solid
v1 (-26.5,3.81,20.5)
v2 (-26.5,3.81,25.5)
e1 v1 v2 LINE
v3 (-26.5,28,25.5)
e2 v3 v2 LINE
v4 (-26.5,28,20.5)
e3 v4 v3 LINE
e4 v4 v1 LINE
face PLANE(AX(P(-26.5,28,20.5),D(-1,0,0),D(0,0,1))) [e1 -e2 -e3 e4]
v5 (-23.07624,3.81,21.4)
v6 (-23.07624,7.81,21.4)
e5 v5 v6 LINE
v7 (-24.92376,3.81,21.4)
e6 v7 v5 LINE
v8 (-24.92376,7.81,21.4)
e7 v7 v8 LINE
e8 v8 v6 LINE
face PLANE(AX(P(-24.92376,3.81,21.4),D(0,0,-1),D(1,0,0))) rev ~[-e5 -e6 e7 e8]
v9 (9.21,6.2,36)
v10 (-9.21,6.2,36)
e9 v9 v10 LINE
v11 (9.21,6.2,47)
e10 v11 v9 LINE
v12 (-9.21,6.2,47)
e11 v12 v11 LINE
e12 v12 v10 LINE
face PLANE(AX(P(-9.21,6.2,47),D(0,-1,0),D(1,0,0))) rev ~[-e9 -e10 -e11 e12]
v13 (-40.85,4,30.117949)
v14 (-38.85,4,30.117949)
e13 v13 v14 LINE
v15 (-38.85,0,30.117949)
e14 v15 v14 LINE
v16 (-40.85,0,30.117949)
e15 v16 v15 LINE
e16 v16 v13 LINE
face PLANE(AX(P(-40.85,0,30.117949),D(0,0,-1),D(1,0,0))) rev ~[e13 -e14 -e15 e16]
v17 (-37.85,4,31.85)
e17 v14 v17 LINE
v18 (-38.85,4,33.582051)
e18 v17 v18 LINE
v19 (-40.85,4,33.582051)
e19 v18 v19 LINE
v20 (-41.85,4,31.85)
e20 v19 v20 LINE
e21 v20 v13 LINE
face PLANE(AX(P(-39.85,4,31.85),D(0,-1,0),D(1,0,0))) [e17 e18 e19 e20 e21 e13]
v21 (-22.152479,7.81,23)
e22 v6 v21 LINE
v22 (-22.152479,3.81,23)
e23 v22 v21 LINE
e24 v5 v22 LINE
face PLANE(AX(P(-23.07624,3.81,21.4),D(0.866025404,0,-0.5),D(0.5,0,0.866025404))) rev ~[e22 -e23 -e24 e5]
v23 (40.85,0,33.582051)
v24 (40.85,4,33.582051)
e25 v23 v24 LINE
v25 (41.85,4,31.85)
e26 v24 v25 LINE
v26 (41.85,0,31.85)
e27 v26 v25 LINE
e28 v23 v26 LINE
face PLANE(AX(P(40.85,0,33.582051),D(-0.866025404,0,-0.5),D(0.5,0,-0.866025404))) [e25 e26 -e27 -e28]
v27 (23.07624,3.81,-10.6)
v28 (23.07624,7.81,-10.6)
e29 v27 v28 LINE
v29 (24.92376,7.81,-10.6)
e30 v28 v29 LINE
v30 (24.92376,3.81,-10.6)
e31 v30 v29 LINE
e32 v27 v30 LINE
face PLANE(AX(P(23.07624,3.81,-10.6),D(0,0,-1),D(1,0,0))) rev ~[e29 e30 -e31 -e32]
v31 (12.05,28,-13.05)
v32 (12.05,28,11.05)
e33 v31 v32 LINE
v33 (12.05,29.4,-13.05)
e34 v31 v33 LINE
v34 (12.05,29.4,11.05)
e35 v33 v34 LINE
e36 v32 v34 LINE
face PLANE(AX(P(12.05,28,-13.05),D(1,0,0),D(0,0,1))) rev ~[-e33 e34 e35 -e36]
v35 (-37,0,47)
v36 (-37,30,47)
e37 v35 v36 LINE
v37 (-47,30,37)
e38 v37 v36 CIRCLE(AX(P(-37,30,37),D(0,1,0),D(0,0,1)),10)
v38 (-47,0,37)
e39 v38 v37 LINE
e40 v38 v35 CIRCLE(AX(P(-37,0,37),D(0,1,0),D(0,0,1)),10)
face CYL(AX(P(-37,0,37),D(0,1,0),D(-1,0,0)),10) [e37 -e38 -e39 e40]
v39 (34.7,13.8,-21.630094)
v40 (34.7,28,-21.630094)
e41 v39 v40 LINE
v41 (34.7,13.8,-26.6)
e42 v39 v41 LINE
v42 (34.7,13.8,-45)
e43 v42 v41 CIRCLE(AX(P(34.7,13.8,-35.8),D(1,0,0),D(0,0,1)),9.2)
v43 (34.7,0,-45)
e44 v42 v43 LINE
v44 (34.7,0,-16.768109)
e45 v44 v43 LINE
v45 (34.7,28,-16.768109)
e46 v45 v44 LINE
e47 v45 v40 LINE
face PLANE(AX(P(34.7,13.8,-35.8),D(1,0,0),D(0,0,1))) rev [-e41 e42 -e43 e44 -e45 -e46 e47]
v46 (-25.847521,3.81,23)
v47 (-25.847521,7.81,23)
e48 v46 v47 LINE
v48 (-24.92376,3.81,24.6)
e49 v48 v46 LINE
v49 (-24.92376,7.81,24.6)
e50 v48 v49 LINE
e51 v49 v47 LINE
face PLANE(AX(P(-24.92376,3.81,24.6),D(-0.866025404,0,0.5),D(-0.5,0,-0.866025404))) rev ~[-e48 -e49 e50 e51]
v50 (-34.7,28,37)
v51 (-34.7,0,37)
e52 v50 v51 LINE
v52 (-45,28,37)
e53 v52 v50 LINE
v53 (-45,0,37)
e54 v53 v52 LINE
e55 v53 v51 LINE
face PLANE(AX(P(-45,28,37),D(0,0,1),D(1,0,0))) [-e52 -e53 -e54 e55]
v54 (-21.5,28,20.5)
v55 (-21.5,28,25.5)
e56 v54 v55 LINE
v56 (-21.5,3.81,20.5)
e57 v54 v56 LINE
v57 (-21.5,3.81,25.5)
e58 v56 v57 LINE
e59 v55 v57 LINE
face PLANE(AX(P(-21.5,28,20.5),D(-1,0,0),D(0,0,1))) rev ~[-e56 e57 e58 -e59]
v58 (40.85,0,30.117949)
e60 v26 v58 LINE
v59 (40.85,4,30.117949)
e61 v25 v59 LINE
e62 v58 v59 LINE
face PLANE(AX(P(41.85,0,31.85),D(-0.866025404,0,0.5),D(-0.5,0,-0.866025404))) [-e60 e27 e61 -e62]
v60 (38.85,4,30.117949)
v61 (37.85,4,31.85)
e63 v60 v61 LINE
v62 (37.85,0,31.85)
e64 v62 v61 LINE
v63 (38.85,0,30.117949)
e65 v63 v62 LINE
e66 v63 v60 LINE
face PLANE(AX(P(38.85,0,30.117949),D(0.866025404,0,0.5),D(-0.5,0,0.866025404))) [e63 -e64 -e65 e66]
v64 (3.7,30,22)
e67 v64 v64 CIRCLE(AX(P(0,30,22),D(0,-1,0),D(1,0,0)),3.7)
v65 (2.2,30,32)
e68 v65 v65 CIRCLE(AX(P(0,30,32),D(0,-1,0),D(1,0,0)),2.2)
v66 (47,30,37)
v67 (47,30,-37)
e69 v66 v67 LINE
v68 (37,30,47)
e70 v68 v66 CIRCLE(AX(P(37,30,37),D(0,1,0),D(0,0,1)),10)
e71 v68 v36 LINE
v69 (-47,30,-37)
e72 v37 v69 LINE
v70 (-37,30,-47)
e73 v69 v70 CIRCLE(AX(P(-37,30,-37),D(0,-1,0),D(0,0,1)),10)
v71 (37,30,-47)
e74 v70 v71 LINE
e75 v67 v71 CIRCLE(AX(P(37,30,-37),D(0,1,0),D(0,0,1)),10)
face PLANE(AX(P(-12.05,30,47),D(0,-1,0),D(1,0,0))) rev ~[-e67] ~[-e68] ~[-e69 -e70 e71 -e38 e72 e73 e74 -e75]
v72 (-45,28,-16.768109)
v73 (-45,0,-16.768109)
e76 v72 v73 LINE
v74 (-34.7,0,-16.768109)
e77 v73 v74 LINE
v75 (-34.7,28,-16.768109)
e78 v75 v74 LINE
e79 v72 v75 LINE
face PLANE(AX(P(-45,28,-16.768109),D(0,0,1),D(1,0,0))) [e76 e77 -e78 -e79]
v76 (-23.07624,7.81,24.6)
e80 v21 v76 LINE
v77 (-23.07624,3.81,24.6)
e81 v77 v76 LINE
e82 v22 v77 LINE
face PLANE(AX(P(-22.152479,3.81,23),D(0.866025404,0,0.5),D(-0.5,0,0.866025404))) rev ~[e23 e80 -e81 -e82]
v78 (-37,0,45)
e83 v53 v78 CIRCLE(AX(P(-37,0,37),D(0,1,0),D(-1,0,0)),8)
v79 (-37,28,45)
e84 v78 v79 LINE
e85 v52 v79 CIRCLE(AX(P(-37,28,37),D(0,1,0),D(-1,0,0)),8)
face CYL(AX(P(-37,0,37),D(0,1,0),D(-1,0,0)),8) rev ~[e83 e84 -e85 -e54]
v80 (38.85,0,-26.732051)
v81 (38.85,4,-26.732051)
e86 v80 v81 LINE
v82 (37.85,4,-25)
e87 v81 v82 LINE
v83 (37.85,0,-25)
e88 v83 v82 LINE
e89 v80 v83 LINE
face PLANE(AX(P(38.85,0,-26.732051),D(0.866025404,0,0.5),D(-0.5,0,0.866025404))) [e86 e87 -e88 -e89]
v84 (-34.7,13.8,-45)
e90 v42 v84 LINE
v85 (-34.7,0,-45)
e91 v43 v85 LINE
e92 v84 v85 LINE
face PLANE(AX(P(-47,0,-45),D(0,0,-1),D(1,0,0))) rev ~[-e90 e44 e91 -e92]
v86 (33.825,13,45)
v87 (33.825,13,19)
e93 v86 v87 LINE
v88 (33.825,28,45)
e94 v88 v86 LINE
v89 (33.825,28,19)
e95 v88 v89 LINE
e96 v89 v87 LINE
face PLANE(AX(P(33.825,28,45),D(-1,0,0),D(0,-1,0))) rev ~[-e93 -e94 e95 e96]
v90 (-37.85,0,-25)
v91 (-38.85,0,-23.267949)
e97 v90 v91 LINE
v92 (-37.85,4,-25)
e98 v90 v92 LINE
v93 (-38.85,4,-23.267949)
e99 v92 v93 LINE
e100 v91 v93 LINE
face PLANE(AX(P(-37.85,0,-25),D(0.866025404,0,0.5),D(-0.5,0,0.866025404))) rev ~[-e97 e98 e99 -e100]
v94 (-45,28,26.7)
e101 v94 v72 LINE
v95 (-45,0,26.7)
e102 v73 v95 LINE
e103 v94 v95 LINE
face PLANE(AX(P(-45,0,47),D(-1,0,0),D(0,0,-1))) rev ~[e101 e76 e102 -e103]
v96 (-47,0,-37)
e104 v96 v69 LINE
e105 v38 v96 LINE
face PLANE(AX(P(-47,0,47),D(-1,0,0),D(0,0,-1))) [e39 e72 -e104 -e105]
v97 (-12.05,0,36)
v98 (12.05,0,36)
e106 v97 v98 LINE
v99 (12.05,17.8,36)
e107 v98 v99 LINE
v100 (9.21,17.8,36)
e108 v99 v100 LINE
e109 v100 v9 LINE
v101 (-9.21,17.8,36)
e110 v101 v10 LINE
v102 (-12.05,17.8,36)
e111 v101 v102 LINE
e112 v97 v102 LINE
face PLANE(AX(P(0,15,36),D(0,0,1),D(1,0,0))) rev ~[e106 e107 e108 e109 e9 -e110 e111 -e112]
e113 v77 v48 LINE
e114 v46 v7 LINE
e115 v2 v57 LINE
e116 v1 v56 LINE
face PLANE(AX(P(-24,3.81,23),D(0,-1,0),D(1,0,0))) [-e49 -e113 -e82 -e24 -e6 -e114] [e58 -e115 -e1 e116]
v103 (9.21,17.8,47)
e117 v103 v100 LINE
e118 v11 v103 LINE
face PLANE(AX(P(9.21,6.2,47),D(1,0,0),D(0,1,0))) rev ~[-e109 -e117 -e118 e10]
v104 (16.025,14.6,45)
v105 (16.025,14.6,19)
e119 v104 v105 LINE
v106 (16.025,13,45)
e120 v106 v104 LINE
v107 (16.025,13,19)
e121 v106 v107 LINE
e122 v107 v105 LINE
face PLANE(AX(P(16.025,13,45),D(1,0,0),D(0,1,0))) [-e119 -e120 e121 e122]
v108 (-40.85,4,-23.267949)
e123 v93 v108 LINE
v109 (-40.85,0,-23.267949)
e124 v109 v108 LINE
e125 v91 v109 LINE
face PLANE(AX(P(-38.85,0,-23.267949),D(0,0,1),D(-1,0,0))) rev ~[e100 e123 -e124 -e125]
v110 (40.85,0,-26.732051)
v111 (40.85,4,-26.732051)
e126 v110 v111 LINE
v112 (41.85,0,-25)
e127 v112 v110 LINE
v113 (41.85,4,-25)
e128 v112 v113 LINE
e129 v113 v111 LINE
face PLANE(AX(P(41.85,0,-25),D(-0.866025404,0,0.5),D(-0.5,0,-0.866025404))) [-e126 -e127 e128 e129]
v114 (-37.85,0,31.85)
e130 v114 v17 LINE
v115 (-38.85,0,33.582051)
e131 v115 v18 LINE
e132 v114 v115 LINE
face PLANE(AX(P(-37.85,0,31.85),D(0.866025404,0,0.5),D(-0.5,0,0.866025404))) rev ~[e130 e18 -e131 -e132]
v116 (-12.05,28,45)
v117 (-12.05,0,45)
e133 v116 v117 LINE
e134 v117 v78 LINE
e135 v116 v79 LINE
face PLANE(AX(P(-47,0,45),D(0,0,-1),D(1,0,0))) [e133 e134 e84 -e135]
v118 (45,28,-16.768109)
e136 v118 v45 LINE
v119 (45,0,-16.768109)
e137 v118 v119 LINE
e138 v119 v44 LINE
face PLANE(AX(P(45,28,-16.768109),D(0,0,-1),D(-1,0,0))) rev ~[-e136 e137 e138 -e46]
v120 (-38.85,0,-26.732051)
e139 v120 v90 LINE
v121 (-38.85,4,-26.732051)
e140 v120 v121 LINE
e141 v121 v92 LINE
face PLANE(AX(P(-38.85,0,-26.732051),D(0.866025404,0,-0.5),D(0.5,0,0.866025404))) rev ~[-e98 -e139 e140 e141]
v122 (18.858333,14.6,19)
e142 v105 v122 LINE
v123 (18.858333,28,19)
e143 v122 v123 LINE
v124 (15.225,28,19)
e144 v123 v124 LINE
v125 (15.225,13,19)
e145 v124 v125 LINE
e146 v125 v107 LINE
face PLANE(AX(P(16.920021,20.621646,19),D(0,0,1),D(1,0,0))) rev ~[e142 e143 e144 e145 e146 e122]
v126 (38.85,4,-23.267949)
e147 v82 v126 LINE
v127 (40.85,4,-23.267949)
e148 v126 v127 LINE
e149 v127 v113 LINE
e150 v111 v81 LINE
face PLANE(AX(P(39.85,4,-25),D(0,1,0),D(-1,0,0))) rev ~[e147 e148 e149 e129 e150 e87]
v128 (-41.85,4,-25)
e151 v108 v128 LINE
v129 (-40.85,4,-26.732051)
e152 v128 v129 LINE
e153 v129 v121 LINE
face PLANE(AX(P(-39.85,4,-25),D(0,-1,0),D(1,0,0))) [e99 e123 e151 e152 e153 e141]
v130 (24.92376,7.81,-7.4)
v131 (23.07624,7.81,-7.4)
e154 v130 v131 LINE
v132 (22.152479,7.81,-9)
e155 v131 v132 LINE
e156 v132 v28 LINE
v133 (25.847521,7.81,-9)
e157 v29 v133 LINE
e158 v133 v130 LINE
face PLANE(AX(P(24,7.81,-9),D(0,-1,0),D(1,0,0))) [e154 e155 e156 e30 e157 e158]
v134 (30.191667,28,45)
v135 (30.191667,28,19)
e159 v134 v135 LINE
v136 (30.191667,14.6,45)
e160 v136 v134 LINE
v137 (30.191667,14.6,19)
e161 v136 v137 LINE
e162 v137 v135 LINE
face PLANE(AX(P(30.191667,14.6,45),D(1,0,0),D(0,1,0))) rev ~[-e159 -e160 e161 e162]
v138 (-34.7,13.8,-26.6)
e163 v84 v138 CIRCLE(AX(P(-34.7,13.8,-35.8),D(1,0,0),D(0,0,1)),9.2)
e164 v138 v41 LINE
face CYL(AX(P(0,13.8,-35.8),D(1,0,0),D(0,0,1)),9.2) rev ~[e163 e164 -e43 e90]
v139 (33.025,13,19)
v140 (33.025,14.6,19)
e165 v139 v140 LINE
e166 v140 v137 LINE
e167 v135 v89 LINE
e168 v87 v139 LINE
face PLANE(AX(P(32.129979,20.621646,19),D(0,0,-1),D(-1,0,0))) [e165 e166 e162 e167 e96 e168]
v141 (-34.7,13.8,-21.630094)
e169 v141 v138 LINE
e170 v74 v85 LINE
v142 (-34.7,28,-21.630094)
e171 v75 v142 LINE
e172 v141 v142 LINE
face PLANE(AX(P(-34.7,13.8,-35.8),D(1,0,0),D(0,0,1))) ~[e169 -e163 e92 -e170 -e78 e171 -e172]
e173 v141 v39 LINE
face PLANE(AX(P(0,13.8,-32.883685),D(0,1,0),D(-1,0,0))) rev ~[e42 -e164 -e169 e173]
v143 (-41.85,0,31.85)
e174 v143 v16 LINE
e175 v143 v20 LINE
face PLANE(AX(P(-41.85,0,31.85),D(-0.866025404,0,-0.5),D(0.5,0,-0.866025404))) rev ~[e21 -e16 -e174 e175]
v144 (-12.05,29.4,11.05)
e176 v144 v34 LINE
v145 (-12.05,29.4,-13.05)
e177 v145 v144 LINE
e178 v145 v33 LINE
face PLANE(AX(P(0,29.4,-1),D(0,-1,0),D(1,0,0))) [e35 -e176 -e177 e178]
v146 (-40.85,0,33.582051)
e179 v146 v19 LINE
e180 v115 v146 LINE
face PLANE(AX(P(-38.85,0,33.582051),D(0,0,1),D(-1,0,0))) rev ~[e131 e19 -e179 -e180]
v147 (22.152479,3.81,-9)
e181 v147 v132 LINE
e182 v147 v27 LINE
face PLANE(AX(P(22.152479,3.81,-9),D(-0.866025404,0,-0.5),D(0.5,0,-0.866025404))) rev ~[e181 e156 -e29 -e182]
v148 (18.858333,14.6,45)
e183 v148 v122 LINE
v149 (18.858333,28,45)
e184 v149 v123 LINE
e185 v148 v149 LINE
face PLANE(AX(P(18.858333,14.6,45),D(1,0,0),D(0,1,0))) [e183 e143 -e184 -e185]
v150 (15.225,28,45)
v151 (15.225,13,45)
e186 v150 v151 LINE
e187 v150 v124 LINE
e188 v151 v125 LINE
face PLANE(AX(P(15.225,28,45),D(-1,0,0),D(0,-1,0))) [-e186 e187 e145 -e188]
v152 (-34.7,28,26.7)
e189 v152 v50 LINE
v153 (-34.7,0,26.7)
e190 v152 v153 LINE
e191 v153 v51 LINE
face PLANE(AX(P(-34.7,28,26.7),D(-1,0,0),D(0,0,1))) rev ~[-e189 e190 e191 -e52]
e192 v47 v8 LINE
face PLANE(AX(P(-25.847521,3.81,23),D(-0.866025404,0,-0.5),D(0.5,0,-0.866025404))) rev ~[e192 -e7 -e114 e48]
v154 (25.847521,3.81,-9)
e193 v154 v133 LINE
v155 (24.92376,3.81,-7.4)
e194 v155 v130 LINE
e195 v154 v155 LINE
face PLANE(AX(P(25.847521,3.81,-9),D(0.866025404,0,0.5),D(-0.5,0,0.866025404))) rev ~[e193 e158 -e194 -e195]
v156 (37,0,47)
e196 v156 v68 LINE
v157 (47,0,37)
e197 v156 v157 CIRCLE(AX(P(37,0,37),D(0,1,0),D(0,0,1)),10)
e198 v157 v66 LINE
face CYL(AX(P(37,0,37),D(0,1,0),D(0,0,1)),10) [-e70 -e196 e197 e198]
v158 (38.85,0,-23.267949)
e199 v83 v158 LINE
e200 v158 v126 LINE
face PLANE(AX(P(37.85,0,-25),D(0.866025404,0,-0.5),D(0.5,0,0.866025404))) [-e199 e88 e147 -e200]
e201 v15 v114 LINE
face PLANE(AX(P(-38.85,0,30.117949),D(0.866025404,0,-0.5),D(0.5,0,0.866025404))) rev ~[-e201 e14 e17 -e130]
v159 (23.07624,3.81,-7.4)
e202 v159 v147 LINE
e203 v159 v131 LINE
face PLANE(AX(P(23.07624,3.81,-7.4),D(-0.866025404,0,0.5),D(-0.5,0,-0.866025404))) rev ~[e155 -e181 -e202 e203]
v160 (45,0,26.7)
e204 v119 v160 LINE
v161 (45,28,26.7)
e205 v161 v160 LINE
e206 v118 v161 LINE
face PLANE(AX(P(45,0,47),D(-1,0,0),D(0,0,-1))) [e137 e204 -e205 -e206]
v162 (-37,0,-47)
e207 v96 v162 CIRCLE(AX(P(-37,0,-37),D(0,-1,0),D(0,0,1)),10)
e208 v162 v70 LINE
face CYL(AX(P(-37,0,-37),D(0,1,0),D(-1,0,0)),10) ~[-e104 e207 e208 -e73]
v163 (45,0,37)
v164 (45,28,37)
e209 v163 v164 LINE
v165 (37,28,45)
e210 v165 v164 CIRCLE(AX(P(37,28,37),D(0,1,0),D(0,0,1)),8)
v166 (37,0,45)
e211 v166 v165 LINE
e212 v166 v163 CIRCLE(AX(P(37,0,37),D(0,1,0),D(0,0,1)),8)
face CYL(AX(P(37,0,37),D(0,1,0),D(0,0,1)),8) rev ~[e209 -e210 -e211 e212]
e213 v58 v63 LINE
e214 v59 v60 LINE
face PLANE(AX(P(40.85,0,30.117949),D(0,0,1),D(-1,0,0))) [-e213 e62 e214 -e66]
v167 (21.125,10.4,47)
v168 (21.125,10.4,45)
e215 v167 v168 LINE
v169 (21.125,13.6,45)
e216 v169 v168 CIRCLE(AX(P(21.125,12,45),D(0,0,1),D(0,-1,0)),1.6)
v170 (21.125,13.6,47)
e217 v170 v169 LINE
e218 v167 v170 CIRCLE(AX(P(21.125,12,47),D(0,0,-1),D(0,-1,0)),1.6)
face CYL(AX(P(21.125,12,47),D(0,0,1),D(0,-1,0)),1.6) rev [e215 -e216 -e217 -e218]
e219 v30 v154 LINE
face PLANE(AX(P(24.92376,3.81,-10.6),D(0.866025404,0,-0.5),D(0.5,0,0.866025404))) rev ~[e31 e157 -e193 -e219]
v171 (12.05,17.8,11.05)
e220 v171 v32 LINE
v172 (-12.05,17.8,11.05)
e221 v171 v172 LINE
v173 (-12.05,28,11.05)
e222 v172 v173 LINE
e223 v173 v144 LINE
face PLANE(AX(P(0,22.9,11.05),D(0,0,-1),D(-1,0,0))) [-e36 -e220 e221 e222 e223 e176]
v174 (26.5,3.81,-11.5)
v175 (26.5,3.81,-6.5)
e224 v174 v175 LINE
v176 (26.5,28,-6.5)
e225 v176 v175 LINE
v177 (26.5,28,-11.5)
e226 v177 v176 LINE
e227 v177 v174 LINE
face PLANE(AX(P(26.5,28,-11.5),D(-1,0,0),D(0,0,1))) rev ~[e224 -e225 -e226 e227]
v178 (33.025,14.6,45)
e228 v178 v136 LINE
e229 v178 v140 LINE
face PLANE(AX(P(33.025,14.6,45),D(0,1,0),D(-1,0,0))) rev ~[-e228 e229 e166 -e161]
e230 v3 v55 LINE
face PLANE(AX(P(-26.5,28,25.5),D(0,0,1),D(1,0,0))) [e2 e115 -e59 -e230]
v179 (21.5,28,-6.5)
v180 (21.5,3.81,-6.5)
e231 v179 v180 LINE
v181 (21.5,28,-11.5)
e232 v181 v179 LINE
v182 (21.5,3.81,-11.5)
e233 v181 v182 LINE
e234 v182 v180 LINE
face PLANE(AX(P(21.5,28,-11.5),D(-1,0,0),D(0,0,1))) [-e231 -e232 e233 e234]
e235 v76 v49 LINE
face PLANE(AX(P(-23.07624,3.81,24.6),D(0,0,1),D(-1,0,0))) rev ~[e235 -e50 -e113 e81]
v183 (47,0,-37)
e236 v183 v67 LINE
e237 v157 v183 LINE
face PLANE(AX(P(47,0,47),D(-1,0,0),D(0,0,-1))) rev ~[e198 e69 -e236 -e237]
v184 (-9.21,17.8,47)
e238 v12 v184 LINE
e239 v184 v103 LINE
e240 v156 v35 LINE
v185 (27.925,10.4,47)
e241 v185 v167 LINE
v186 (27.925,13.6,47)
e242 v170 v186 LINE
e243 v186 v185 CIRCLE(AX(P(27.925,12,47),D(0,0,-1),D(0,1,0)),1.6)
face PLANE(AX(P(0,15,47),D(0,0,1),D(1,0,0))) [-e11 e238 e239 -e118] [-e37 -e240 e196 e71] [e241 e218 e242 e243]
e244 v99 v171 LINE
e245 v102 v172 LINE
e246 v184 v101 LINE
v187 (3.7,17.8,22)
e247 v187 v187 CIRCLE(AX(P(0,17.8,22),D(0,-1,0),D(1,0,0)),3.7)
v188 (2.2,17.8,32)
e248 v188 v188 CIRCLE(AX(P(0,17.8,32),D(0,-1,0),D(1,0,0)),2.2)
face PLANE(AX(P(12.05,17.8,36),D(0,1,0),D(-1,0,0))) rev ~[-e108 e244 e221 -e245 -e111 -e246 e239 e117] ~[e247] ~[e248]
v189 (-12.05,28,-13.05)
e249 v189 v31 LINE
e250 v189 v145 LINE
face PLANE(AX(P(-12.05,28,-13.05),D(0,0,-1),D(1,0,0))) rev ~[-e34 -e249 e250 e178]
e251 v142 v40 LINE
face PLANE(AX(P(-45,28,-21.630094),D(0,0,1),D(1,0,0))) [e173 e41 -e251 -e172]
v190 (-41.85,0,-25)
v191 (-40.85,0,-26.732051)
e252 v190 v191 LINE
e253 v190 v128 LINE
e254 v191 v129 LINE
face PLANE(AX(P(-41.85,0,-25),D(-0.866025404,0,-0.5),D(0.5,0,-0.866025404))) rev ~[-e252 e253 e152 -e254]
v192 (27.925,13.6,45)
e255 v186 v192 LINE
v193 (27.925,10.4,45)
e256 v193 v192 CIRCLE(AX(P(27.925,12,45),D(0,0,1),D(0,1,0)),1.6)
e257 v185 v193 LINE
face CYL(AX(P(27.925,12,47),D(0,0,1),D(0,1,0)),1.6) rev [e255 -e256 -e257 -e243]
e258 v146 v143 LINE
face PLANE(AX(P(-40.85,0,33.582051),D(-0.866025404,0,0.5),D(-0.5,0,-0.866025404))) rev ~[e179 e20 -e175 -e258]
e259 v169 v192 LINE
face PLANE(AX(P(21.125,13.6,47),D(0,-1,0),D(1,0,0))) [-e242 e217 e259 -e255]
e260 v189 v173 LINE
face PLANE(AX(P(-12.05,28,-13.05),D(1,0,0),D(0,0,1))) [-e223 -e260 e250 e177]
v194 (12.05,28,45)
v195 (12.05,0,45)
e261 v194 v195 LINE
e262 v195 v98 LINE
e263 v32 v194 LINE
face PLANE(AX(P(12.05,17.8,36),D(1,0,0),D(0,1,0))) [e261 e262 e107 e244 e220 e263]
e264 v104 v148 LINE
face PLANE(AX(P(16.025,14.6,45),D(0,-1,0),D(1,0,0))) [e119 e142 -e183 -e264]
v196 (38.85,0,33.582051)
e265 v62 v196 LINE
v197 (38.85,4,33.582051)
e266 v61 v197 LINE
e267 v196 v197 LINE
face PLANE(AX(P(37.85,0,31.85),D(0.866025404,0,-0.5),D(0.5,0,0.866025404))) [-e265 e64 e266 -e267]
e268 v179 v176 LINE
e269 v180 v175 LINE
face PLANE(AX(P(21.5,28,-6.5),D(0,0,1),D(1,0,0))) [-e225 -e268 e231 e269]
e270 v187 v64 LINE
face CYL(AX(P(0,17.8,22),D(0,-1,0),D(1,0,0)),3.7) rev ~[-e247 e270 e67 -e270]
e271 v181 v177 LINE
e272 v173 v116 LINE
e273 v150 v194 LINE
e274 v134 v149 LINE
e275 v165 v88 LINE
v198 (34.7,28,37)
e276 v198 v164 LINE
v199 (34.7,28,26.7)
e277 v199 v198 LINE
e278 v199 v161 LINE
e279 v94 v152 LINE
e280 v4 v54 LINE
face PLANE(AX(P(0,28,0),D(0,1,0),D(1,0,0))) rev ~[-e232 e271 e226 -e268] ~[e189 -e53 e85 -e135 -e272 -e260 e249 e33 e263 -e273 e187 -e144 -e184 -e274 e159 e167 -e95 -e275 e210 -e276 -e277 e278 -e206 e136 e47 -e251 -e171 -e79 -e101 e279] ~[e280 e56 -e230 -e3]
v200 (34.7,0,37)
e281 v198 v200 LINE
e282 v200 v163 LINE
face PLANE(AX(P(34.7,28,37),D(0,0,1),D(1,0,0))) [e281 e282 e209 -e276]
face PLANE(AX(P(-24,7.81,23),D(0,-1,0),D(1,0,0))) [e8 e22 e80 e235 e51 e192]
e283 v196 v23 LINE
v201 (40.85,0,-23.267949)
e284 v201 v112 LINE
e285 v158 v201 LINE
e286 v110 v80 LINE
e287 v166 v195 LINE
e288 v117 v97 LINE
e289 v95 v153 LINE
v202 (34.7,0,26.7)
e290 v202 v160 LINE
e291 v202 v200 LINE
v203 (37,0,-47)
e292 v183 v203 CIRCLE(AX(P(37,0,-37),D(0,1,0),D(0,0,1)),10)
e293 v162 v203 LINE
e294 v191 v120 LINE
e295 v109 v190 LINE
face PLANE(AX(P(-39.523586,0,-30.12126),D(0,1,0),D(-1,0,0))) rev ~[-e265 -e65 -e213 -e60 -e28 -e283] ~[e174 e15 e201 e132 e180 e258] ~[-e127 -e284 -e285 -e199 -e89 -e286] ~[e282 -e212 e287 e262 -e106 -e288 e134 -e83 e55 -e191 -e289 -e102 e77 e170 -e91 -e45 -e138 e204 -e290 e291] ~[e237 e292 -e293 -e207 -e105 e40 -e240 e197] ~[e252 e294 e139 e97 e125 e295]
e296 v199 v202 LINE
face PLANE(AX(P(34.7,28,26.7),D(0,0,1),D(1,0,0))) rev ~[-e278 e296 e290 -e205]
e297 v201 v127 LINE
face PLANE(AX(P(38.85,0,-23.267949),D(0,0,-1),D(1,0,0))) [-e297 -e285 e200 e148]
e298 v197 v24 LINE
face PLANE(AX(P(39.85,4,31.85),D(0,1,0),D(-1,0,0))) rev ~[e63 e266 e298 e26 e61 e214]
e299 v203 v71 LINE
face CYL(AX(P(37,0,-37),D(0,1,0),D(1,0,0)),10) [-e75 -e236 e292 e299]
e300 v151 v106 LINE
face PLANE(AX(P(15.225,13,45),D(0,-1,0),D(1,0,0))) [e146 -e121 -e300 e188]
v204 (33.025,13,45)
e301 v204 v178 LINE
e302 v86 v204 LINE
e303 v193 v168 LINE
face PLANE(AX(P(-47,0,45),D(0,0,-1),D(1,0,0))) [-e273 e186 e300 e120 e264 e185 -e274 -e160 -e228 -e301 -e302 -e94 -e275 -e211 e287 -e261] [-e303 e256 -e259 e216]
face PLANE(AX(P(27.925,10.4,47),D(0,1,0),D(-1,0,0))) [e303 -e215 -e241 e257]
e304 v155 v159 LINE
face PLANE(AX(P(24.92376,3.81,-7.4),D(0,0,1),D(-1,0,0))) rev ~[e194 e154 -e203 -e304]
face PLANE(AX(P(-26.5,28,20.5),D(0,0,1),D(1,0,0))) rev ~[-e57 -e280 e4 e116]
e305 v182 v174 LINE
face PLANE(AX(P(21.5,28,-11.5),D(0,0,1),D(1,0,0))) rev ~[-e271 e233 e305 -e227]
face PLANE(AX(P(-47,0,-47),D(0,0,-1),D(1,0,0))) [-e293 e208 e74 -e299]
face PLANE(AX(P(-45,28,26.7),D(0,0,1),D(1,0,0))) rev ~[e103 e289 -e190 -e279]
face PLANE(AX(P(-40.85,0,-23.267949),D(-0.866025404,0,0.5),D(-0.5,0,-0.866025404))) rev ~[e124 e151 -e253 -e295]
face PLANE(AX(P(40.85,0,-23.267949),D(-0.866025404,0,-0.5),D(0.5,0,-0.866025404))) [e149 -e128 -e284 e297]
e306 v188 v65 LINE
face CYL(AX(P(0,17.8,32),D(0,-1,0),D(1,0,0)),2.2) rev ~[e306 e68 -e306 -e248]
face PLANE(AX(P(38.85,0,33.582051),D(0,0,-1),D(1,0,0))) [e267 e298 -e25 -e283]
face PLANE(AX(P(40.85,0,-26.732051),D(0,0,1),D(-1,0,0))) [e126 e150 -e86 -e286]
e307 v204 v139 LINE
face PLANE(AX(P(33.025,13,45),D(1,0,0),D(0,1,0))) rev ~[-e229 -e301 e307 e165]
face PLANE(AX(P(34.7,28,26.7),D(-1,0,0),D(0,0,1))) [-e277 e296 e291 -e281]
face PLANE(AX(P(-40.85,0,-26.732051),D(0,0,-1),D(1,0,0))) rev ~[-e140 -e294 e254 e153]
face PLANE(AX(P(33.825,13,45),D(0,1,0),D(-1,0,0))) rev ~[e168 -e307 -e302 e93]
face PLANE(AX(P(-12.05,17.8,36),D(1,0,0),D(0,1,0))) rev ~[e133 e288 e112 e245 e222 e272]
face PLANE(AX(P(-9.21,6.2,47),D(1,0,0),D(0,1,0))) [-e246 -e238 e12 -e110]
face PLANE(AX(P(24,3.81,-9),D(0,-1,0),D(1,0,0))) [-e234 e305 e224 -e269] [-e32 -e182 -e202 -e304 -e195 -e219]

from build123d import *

# Parameters (mm, degrees)
SKETCH_1_W             = 94
SKETCH_1_H             = 94
EXTRUDE_1_DEPTH        = 30
FILLET_1_R             = 10
SHELL_1_T              = -2
SKETCH_2_W             = 24.1
SKETCH_2_H             = 30
EXTRUDE_3392_DEPTH     = 11
CUT_EXTRUDE_3513_REACH = 111.293
SKETCH_3_W             = 18.42
SKETCH_3_H             = 11.6
SKETCH_4_W             = 24.1
SKETCH_4_H             = 24.1
CUT_EXTRUDE_3826_DEPTH = 1.4
EXTRUDE_4548_DEPTH     = 14.2
SKETCH_9_W             = 69.4
SKETCH_9_H             = 9.2
SKETCH_10_W            = 5
SKETCH_10_H            = 5
EXTRUDE_5202_DEPTH     = 24.19
CUT_EXTRUDE_5310_DEPTH = 4
USBC_REACH             = 111.293
USBC_2_DEPTH           = 26
SKETCH_22_W            = 24.1
SKETCH_22_H            = 10.2
EXTRUDE_7617_DEPTH     = 24.95
CUT_EXTRUDE_6_REACH    = 70.81
SKETCH_23_R            = 2.2
SKETCH_23_R_2          = 3.7
SKETCH_13_W            = 10.3
SKETCH_13_H            = 10.3
EXTRUDE_4_DEPTH        = 28
CUT_EXTRUDE_7_DEPTH    = 4


with BuildPart() as part:
    # 草图1 → 凸台-拉伸1 (new body)
    with BuildSketch(Plane(origin=(0, 0, 0), x_dir=(1, 0, 0), z_dir=(0, 1, 0))):
        Rectangle(SKETCH_1_W, SKETCH_1_H)
    extrude(amount=EXTRUDE_1_DEPTH)

    # 圆角1
    fillet_1_edges = [part.edges().sort_by_distance(p)[0] for p in [
        (-47, 15, -47),
        (47, 15, -47),
        (47, 15, 47),
        (-47, 15, 47),
    ]]
    fillet(fillet_1_edges, radius=FILLET_1_R)

    # 抽壳1
    shell_1_openings = [part.faces().sort_by_distance(p)[0] for p in [
        (0, 0, 0),
    ]]
    offset(amount=SHELL_1_T, openings=shell_1_openings, kind=Kind.INTERSECTION)

    # 草图2 → Extrude 3392 (add)
    with BuildSketch(Plane.XY.offset(47)):
        with Locations((0, 15)):
            Rectangle(SKETCH_2_W, SKETCH_2_H)
    extrude(amount=-EXTRUDE_3392_DEPTH)

    # 草图3 → Cut-Extrude 3513 (cut, up to next)
    with BuildSketch(Plane.XY.offset(47), mode=Mode.PRIVATE) as cut_extrude_3513_sk1:
        with Locations((0, 12)):
            Rectangle(SKETCH_3_W, SKETCH_3_H)
    cut_extrude_3513_tool1 = extrude(cut_extrude_3513_sk1.sketch, amount=-CUT_EXTRUDE_3513_REACH, mode=Mode.PRIVATE) & part.part
    add(cut_extrude_3513_tool1.solids().sort_by_distance((0, 12, 47))[0], mode=Mode.SUBTRACT)

    # 草图4 → Cut-Extrude 3826 (cut)
    with BuildSketch(Plane.XZ.offset(-28)):
        with Locations((0, -1)):
            Rectangle(SKETCH_4_W, SKETCH_4_H)
    extrude(amount=-CUT_EXTRUDE_3826_DEPTH, mode=Mode.SUBTRACT)

    # 草图6 → Extrude 4548 (add)
    with BuildSketch(Plane.XZ.offset(-28)):
        with BuildLine():
            Line((-45, -37), (-45, -21.630094022))
            Line((-45, -21.630094022), (45, -21.630094022))
            Line((45, -21.630094022), (45, -37))
            ThreePointArc((45, -37), (42.656854249, -42.656854249), (37, -45))
            Line((37, -45), (-37, -45))
            ThreePointArc((-37, -45), (-42.656854249, -42.656854249), (-45, -37))
        make_face()
    extrude(amount=EXTRUDE_4548_DEPTH)

    # 草图9 → Cut-Revolve 4776 (revolve, cut)
    with BuildSketch(Plane.XZ.offset(-13.8)):
        with Locations((0, -31.2)):
            Rectangle(SKETCH_9_W, SKETCH_9_H)
    revolve(axis=Axis((-34.7, 13.8, -35.8), (1, 0, 0)), mode=Mode.SUBTRACT)

    # 草图10 → Extrude 5202 (add)
    with BuildSketch(Plane.XZ.offset(-28)):
        with Locations((-24, 23)):
            Rectangle(SKETCH_10_W, SKETCH_10_H)
        with Locations((24, -9)):
            Rectangle(SKETCH_10_W, SKETCH_10_H)
    extrude(amount=EXTRUDE_5202_DEPTH)

    # 草图11 → Cut-Extrude 5310 (cut)
    with BuildSketch(Plane.XZ.offset(-3.81)):
        Polygon((-23.076239569, 21.4), (-22.152479139, 23), (-23.076239569, 24.6), (-24.923760431, 24.6), (-25.847520861, 23), (-24.923760431, 21.4), align=None)
        Polygon((24.923760431, -10.6), (25.847520861, -9), (24.923760431, -7.4), (23.076239569, -7.4), (22.152479139, -9), (23.076239569, -10.6), align=None)
    extrude(amount=-CUT_EXTRUDE_5310_DEPTH, mode=Mode.SUBTRACT)

    # 草图15 → USBC (cut, up to next)
    with BuildSketch(Plane.XY.offset(47), mode=Mode.PRIVATE) as usbc_sk1:
        with BuildLine():
            Line((21.125, 13.6), (27.925, 13.6))
            ThreePointArc((27.925, 13.6), (29.525, 12), (27.925, 10.4))
            Line((27.925, 10.4), (21.125, 10.4))
            ThreePointArc((21.125, 10.4), (19.525, 12), (21.125, 13.6))
        make_face()
    usbc_tool1 = extrude(usbc_sk1.sketch, amount=-USBC_REACH, mode=Mode.PRIVATE) & part.part
    add(usbc_tool1.solids().sort_by_distance((24.525, 12, 47))[0], mode=Mode.SUBTRACT)

    # 草图16 → USBC 2 (add)
    with BuildSketch(Plane(origin=(0, 0, 45), x_dir=(-1, 0, 0), z_dir=(0, 0, -1))):
        Polygon((-15.225, 13), (-16.025, 13), (-16.025, 14.6), (-18.858333333, 14.6), (-18.858333333, 28), (-15.225, 28), align=None)
        Polygon((-30.191666667, 28), (-33.825, 28), (-33.825, 13), (-33.025, 13), (-33.025, 14.6), (-30.191666667, 14.6), align=None)
    extrude(amount=USBC_2_DEPTH)

    # 草图22 → Extrude 7617 (add)
    with BuildSketch(Plane(origin=(0, 0, 36), x_dir=(-1, 0, 0), z_dir=(0, 0, -1))):
        with Locations((0, 22.9)):
            Rectangle(SKETCH_22_W, SKETCH_22_H)
    extrude(amount=EXTRUDE_7617_DEPTH)

    # 草图23 → 切除-拉伸6 (cut, up to next)
    with BuildSketch(Plane(origin=(0, 17.8, 0), x_dir=(-1, 0, 0), z_dir=(0, -1, 0)), mode=Mode.PRIVATE) as cut_extrude_6_sk1:
        with Locations(Location((0, -32, 0), (0, 0, 180))):
            Circle(SKETCH_23_R)
    cut_extrude_6_tool1 = extrude(cut_extrude_6_sk1.sketch, amount=-CUT_EXTRUDE_6_REACH, mode=Mode.PRIVATE) & part.part
    # 草图23 → 切除-拉伸6 (cut, up to next)
    with BuildSketch(Plane(origin=(0, 17.8, 0), x_dir=(-1, 0, 0), z_dir=(0, -1, 0)), mode=Mode.PRIVATE) as cut_extrude_6_sk2:
        with Locations(Location((0, -22, 0), (0, 0, 180))):
            Circle(SKETCH_23_R_2)
    cut_extrude_6_tool2 = extrude(cut_extrude_6_sk2.sketch, amount=-CUT_EXTRUDE_6_REACH, mode=Mode.PRIVATE) & part.part
    add(cut_extrude_6_tool1.solids().sort_by_distance((0, 17.8, 32))[0], mode=Mode.SUBTRACT)
    add(cut_extrude_6_tool2.solids().sort_by_distance((0, 17.8, 22))[0], mode=Mode.SUBTRACT)

    # 草图13 → 凸台-拉伸4 (add)
    with BuildSketch(Plane.XZ.offset(-28)):
        with BuildLine():
            Line((-45, -37), (-45, -16.768109074))
            Line((-45, -16.768109074), (-34.7, -16.768109074))
            Line((-34.7, -16.768109074), (-34.7, -45))
            Line((-34.7, -45), (-37, -45))
            ThreePointArc((-37, -45), (-42.656854249, -42.656854249), (-45, -37))
        make_face()
        with BuildLine():
            Line((34.7, -16.768109074), (34.7, -45))
            Line((34.7, -45), (37, -45))
            ThreePointArc((37, -45), (42.656854249, -42.656854249), (45, -37))
            Line((45, -37), (45, -16.768109074))
            Line((45, -16.768109074), (34.7, -16.768109074))
        make_face()
        with Locations((-39.85, 31.85)):
            Rectangle(SKETCH_13_W, SKETCH_13_H)
        with Locations((39.85, 31.85)):
            Rectangle(SKETCH_13_W, SKETCH_13_H)
    extrude(amount=EXTRUDE_4_DEPTH)

    # 草图26 → 切除-拉伸7 (cut)
    with BuildSketch(Plane.XZ):
        Polygon((-40.85, 30.117949192), (-38.85, 30.117949192), (-37.85, 31.85), (-38.85, 33.582050808), (-40.85, 33.582050808), (-41.85, 31.85), align=None)
        Polygon((40.85, 33.582050808), (41.85, 31.85), (40.85, 30.117949192), (38.85, 30.117949192), (37.85, 31.85), (38.85, 33.582050808), align=None)
        Polygon((40.85, -23.267949192), (41.85, -25), (40.85, -26.732050808), (38.85, -26.732050808), (37.85, -25), (38.85, -23.267949192), align=None)
        Polygon((-40.85, -23.267949192), (-41.85, -25), (-40.85, -26.732050808), (-38.85, -26.732050808), (-37.85, -25), (-38.85, -23.267949192), align=None)
    extrude(amount=-CUT_EXTRUDE_7_DEPTH, mode=Mode.SUBTRACT)


solid = part.part
